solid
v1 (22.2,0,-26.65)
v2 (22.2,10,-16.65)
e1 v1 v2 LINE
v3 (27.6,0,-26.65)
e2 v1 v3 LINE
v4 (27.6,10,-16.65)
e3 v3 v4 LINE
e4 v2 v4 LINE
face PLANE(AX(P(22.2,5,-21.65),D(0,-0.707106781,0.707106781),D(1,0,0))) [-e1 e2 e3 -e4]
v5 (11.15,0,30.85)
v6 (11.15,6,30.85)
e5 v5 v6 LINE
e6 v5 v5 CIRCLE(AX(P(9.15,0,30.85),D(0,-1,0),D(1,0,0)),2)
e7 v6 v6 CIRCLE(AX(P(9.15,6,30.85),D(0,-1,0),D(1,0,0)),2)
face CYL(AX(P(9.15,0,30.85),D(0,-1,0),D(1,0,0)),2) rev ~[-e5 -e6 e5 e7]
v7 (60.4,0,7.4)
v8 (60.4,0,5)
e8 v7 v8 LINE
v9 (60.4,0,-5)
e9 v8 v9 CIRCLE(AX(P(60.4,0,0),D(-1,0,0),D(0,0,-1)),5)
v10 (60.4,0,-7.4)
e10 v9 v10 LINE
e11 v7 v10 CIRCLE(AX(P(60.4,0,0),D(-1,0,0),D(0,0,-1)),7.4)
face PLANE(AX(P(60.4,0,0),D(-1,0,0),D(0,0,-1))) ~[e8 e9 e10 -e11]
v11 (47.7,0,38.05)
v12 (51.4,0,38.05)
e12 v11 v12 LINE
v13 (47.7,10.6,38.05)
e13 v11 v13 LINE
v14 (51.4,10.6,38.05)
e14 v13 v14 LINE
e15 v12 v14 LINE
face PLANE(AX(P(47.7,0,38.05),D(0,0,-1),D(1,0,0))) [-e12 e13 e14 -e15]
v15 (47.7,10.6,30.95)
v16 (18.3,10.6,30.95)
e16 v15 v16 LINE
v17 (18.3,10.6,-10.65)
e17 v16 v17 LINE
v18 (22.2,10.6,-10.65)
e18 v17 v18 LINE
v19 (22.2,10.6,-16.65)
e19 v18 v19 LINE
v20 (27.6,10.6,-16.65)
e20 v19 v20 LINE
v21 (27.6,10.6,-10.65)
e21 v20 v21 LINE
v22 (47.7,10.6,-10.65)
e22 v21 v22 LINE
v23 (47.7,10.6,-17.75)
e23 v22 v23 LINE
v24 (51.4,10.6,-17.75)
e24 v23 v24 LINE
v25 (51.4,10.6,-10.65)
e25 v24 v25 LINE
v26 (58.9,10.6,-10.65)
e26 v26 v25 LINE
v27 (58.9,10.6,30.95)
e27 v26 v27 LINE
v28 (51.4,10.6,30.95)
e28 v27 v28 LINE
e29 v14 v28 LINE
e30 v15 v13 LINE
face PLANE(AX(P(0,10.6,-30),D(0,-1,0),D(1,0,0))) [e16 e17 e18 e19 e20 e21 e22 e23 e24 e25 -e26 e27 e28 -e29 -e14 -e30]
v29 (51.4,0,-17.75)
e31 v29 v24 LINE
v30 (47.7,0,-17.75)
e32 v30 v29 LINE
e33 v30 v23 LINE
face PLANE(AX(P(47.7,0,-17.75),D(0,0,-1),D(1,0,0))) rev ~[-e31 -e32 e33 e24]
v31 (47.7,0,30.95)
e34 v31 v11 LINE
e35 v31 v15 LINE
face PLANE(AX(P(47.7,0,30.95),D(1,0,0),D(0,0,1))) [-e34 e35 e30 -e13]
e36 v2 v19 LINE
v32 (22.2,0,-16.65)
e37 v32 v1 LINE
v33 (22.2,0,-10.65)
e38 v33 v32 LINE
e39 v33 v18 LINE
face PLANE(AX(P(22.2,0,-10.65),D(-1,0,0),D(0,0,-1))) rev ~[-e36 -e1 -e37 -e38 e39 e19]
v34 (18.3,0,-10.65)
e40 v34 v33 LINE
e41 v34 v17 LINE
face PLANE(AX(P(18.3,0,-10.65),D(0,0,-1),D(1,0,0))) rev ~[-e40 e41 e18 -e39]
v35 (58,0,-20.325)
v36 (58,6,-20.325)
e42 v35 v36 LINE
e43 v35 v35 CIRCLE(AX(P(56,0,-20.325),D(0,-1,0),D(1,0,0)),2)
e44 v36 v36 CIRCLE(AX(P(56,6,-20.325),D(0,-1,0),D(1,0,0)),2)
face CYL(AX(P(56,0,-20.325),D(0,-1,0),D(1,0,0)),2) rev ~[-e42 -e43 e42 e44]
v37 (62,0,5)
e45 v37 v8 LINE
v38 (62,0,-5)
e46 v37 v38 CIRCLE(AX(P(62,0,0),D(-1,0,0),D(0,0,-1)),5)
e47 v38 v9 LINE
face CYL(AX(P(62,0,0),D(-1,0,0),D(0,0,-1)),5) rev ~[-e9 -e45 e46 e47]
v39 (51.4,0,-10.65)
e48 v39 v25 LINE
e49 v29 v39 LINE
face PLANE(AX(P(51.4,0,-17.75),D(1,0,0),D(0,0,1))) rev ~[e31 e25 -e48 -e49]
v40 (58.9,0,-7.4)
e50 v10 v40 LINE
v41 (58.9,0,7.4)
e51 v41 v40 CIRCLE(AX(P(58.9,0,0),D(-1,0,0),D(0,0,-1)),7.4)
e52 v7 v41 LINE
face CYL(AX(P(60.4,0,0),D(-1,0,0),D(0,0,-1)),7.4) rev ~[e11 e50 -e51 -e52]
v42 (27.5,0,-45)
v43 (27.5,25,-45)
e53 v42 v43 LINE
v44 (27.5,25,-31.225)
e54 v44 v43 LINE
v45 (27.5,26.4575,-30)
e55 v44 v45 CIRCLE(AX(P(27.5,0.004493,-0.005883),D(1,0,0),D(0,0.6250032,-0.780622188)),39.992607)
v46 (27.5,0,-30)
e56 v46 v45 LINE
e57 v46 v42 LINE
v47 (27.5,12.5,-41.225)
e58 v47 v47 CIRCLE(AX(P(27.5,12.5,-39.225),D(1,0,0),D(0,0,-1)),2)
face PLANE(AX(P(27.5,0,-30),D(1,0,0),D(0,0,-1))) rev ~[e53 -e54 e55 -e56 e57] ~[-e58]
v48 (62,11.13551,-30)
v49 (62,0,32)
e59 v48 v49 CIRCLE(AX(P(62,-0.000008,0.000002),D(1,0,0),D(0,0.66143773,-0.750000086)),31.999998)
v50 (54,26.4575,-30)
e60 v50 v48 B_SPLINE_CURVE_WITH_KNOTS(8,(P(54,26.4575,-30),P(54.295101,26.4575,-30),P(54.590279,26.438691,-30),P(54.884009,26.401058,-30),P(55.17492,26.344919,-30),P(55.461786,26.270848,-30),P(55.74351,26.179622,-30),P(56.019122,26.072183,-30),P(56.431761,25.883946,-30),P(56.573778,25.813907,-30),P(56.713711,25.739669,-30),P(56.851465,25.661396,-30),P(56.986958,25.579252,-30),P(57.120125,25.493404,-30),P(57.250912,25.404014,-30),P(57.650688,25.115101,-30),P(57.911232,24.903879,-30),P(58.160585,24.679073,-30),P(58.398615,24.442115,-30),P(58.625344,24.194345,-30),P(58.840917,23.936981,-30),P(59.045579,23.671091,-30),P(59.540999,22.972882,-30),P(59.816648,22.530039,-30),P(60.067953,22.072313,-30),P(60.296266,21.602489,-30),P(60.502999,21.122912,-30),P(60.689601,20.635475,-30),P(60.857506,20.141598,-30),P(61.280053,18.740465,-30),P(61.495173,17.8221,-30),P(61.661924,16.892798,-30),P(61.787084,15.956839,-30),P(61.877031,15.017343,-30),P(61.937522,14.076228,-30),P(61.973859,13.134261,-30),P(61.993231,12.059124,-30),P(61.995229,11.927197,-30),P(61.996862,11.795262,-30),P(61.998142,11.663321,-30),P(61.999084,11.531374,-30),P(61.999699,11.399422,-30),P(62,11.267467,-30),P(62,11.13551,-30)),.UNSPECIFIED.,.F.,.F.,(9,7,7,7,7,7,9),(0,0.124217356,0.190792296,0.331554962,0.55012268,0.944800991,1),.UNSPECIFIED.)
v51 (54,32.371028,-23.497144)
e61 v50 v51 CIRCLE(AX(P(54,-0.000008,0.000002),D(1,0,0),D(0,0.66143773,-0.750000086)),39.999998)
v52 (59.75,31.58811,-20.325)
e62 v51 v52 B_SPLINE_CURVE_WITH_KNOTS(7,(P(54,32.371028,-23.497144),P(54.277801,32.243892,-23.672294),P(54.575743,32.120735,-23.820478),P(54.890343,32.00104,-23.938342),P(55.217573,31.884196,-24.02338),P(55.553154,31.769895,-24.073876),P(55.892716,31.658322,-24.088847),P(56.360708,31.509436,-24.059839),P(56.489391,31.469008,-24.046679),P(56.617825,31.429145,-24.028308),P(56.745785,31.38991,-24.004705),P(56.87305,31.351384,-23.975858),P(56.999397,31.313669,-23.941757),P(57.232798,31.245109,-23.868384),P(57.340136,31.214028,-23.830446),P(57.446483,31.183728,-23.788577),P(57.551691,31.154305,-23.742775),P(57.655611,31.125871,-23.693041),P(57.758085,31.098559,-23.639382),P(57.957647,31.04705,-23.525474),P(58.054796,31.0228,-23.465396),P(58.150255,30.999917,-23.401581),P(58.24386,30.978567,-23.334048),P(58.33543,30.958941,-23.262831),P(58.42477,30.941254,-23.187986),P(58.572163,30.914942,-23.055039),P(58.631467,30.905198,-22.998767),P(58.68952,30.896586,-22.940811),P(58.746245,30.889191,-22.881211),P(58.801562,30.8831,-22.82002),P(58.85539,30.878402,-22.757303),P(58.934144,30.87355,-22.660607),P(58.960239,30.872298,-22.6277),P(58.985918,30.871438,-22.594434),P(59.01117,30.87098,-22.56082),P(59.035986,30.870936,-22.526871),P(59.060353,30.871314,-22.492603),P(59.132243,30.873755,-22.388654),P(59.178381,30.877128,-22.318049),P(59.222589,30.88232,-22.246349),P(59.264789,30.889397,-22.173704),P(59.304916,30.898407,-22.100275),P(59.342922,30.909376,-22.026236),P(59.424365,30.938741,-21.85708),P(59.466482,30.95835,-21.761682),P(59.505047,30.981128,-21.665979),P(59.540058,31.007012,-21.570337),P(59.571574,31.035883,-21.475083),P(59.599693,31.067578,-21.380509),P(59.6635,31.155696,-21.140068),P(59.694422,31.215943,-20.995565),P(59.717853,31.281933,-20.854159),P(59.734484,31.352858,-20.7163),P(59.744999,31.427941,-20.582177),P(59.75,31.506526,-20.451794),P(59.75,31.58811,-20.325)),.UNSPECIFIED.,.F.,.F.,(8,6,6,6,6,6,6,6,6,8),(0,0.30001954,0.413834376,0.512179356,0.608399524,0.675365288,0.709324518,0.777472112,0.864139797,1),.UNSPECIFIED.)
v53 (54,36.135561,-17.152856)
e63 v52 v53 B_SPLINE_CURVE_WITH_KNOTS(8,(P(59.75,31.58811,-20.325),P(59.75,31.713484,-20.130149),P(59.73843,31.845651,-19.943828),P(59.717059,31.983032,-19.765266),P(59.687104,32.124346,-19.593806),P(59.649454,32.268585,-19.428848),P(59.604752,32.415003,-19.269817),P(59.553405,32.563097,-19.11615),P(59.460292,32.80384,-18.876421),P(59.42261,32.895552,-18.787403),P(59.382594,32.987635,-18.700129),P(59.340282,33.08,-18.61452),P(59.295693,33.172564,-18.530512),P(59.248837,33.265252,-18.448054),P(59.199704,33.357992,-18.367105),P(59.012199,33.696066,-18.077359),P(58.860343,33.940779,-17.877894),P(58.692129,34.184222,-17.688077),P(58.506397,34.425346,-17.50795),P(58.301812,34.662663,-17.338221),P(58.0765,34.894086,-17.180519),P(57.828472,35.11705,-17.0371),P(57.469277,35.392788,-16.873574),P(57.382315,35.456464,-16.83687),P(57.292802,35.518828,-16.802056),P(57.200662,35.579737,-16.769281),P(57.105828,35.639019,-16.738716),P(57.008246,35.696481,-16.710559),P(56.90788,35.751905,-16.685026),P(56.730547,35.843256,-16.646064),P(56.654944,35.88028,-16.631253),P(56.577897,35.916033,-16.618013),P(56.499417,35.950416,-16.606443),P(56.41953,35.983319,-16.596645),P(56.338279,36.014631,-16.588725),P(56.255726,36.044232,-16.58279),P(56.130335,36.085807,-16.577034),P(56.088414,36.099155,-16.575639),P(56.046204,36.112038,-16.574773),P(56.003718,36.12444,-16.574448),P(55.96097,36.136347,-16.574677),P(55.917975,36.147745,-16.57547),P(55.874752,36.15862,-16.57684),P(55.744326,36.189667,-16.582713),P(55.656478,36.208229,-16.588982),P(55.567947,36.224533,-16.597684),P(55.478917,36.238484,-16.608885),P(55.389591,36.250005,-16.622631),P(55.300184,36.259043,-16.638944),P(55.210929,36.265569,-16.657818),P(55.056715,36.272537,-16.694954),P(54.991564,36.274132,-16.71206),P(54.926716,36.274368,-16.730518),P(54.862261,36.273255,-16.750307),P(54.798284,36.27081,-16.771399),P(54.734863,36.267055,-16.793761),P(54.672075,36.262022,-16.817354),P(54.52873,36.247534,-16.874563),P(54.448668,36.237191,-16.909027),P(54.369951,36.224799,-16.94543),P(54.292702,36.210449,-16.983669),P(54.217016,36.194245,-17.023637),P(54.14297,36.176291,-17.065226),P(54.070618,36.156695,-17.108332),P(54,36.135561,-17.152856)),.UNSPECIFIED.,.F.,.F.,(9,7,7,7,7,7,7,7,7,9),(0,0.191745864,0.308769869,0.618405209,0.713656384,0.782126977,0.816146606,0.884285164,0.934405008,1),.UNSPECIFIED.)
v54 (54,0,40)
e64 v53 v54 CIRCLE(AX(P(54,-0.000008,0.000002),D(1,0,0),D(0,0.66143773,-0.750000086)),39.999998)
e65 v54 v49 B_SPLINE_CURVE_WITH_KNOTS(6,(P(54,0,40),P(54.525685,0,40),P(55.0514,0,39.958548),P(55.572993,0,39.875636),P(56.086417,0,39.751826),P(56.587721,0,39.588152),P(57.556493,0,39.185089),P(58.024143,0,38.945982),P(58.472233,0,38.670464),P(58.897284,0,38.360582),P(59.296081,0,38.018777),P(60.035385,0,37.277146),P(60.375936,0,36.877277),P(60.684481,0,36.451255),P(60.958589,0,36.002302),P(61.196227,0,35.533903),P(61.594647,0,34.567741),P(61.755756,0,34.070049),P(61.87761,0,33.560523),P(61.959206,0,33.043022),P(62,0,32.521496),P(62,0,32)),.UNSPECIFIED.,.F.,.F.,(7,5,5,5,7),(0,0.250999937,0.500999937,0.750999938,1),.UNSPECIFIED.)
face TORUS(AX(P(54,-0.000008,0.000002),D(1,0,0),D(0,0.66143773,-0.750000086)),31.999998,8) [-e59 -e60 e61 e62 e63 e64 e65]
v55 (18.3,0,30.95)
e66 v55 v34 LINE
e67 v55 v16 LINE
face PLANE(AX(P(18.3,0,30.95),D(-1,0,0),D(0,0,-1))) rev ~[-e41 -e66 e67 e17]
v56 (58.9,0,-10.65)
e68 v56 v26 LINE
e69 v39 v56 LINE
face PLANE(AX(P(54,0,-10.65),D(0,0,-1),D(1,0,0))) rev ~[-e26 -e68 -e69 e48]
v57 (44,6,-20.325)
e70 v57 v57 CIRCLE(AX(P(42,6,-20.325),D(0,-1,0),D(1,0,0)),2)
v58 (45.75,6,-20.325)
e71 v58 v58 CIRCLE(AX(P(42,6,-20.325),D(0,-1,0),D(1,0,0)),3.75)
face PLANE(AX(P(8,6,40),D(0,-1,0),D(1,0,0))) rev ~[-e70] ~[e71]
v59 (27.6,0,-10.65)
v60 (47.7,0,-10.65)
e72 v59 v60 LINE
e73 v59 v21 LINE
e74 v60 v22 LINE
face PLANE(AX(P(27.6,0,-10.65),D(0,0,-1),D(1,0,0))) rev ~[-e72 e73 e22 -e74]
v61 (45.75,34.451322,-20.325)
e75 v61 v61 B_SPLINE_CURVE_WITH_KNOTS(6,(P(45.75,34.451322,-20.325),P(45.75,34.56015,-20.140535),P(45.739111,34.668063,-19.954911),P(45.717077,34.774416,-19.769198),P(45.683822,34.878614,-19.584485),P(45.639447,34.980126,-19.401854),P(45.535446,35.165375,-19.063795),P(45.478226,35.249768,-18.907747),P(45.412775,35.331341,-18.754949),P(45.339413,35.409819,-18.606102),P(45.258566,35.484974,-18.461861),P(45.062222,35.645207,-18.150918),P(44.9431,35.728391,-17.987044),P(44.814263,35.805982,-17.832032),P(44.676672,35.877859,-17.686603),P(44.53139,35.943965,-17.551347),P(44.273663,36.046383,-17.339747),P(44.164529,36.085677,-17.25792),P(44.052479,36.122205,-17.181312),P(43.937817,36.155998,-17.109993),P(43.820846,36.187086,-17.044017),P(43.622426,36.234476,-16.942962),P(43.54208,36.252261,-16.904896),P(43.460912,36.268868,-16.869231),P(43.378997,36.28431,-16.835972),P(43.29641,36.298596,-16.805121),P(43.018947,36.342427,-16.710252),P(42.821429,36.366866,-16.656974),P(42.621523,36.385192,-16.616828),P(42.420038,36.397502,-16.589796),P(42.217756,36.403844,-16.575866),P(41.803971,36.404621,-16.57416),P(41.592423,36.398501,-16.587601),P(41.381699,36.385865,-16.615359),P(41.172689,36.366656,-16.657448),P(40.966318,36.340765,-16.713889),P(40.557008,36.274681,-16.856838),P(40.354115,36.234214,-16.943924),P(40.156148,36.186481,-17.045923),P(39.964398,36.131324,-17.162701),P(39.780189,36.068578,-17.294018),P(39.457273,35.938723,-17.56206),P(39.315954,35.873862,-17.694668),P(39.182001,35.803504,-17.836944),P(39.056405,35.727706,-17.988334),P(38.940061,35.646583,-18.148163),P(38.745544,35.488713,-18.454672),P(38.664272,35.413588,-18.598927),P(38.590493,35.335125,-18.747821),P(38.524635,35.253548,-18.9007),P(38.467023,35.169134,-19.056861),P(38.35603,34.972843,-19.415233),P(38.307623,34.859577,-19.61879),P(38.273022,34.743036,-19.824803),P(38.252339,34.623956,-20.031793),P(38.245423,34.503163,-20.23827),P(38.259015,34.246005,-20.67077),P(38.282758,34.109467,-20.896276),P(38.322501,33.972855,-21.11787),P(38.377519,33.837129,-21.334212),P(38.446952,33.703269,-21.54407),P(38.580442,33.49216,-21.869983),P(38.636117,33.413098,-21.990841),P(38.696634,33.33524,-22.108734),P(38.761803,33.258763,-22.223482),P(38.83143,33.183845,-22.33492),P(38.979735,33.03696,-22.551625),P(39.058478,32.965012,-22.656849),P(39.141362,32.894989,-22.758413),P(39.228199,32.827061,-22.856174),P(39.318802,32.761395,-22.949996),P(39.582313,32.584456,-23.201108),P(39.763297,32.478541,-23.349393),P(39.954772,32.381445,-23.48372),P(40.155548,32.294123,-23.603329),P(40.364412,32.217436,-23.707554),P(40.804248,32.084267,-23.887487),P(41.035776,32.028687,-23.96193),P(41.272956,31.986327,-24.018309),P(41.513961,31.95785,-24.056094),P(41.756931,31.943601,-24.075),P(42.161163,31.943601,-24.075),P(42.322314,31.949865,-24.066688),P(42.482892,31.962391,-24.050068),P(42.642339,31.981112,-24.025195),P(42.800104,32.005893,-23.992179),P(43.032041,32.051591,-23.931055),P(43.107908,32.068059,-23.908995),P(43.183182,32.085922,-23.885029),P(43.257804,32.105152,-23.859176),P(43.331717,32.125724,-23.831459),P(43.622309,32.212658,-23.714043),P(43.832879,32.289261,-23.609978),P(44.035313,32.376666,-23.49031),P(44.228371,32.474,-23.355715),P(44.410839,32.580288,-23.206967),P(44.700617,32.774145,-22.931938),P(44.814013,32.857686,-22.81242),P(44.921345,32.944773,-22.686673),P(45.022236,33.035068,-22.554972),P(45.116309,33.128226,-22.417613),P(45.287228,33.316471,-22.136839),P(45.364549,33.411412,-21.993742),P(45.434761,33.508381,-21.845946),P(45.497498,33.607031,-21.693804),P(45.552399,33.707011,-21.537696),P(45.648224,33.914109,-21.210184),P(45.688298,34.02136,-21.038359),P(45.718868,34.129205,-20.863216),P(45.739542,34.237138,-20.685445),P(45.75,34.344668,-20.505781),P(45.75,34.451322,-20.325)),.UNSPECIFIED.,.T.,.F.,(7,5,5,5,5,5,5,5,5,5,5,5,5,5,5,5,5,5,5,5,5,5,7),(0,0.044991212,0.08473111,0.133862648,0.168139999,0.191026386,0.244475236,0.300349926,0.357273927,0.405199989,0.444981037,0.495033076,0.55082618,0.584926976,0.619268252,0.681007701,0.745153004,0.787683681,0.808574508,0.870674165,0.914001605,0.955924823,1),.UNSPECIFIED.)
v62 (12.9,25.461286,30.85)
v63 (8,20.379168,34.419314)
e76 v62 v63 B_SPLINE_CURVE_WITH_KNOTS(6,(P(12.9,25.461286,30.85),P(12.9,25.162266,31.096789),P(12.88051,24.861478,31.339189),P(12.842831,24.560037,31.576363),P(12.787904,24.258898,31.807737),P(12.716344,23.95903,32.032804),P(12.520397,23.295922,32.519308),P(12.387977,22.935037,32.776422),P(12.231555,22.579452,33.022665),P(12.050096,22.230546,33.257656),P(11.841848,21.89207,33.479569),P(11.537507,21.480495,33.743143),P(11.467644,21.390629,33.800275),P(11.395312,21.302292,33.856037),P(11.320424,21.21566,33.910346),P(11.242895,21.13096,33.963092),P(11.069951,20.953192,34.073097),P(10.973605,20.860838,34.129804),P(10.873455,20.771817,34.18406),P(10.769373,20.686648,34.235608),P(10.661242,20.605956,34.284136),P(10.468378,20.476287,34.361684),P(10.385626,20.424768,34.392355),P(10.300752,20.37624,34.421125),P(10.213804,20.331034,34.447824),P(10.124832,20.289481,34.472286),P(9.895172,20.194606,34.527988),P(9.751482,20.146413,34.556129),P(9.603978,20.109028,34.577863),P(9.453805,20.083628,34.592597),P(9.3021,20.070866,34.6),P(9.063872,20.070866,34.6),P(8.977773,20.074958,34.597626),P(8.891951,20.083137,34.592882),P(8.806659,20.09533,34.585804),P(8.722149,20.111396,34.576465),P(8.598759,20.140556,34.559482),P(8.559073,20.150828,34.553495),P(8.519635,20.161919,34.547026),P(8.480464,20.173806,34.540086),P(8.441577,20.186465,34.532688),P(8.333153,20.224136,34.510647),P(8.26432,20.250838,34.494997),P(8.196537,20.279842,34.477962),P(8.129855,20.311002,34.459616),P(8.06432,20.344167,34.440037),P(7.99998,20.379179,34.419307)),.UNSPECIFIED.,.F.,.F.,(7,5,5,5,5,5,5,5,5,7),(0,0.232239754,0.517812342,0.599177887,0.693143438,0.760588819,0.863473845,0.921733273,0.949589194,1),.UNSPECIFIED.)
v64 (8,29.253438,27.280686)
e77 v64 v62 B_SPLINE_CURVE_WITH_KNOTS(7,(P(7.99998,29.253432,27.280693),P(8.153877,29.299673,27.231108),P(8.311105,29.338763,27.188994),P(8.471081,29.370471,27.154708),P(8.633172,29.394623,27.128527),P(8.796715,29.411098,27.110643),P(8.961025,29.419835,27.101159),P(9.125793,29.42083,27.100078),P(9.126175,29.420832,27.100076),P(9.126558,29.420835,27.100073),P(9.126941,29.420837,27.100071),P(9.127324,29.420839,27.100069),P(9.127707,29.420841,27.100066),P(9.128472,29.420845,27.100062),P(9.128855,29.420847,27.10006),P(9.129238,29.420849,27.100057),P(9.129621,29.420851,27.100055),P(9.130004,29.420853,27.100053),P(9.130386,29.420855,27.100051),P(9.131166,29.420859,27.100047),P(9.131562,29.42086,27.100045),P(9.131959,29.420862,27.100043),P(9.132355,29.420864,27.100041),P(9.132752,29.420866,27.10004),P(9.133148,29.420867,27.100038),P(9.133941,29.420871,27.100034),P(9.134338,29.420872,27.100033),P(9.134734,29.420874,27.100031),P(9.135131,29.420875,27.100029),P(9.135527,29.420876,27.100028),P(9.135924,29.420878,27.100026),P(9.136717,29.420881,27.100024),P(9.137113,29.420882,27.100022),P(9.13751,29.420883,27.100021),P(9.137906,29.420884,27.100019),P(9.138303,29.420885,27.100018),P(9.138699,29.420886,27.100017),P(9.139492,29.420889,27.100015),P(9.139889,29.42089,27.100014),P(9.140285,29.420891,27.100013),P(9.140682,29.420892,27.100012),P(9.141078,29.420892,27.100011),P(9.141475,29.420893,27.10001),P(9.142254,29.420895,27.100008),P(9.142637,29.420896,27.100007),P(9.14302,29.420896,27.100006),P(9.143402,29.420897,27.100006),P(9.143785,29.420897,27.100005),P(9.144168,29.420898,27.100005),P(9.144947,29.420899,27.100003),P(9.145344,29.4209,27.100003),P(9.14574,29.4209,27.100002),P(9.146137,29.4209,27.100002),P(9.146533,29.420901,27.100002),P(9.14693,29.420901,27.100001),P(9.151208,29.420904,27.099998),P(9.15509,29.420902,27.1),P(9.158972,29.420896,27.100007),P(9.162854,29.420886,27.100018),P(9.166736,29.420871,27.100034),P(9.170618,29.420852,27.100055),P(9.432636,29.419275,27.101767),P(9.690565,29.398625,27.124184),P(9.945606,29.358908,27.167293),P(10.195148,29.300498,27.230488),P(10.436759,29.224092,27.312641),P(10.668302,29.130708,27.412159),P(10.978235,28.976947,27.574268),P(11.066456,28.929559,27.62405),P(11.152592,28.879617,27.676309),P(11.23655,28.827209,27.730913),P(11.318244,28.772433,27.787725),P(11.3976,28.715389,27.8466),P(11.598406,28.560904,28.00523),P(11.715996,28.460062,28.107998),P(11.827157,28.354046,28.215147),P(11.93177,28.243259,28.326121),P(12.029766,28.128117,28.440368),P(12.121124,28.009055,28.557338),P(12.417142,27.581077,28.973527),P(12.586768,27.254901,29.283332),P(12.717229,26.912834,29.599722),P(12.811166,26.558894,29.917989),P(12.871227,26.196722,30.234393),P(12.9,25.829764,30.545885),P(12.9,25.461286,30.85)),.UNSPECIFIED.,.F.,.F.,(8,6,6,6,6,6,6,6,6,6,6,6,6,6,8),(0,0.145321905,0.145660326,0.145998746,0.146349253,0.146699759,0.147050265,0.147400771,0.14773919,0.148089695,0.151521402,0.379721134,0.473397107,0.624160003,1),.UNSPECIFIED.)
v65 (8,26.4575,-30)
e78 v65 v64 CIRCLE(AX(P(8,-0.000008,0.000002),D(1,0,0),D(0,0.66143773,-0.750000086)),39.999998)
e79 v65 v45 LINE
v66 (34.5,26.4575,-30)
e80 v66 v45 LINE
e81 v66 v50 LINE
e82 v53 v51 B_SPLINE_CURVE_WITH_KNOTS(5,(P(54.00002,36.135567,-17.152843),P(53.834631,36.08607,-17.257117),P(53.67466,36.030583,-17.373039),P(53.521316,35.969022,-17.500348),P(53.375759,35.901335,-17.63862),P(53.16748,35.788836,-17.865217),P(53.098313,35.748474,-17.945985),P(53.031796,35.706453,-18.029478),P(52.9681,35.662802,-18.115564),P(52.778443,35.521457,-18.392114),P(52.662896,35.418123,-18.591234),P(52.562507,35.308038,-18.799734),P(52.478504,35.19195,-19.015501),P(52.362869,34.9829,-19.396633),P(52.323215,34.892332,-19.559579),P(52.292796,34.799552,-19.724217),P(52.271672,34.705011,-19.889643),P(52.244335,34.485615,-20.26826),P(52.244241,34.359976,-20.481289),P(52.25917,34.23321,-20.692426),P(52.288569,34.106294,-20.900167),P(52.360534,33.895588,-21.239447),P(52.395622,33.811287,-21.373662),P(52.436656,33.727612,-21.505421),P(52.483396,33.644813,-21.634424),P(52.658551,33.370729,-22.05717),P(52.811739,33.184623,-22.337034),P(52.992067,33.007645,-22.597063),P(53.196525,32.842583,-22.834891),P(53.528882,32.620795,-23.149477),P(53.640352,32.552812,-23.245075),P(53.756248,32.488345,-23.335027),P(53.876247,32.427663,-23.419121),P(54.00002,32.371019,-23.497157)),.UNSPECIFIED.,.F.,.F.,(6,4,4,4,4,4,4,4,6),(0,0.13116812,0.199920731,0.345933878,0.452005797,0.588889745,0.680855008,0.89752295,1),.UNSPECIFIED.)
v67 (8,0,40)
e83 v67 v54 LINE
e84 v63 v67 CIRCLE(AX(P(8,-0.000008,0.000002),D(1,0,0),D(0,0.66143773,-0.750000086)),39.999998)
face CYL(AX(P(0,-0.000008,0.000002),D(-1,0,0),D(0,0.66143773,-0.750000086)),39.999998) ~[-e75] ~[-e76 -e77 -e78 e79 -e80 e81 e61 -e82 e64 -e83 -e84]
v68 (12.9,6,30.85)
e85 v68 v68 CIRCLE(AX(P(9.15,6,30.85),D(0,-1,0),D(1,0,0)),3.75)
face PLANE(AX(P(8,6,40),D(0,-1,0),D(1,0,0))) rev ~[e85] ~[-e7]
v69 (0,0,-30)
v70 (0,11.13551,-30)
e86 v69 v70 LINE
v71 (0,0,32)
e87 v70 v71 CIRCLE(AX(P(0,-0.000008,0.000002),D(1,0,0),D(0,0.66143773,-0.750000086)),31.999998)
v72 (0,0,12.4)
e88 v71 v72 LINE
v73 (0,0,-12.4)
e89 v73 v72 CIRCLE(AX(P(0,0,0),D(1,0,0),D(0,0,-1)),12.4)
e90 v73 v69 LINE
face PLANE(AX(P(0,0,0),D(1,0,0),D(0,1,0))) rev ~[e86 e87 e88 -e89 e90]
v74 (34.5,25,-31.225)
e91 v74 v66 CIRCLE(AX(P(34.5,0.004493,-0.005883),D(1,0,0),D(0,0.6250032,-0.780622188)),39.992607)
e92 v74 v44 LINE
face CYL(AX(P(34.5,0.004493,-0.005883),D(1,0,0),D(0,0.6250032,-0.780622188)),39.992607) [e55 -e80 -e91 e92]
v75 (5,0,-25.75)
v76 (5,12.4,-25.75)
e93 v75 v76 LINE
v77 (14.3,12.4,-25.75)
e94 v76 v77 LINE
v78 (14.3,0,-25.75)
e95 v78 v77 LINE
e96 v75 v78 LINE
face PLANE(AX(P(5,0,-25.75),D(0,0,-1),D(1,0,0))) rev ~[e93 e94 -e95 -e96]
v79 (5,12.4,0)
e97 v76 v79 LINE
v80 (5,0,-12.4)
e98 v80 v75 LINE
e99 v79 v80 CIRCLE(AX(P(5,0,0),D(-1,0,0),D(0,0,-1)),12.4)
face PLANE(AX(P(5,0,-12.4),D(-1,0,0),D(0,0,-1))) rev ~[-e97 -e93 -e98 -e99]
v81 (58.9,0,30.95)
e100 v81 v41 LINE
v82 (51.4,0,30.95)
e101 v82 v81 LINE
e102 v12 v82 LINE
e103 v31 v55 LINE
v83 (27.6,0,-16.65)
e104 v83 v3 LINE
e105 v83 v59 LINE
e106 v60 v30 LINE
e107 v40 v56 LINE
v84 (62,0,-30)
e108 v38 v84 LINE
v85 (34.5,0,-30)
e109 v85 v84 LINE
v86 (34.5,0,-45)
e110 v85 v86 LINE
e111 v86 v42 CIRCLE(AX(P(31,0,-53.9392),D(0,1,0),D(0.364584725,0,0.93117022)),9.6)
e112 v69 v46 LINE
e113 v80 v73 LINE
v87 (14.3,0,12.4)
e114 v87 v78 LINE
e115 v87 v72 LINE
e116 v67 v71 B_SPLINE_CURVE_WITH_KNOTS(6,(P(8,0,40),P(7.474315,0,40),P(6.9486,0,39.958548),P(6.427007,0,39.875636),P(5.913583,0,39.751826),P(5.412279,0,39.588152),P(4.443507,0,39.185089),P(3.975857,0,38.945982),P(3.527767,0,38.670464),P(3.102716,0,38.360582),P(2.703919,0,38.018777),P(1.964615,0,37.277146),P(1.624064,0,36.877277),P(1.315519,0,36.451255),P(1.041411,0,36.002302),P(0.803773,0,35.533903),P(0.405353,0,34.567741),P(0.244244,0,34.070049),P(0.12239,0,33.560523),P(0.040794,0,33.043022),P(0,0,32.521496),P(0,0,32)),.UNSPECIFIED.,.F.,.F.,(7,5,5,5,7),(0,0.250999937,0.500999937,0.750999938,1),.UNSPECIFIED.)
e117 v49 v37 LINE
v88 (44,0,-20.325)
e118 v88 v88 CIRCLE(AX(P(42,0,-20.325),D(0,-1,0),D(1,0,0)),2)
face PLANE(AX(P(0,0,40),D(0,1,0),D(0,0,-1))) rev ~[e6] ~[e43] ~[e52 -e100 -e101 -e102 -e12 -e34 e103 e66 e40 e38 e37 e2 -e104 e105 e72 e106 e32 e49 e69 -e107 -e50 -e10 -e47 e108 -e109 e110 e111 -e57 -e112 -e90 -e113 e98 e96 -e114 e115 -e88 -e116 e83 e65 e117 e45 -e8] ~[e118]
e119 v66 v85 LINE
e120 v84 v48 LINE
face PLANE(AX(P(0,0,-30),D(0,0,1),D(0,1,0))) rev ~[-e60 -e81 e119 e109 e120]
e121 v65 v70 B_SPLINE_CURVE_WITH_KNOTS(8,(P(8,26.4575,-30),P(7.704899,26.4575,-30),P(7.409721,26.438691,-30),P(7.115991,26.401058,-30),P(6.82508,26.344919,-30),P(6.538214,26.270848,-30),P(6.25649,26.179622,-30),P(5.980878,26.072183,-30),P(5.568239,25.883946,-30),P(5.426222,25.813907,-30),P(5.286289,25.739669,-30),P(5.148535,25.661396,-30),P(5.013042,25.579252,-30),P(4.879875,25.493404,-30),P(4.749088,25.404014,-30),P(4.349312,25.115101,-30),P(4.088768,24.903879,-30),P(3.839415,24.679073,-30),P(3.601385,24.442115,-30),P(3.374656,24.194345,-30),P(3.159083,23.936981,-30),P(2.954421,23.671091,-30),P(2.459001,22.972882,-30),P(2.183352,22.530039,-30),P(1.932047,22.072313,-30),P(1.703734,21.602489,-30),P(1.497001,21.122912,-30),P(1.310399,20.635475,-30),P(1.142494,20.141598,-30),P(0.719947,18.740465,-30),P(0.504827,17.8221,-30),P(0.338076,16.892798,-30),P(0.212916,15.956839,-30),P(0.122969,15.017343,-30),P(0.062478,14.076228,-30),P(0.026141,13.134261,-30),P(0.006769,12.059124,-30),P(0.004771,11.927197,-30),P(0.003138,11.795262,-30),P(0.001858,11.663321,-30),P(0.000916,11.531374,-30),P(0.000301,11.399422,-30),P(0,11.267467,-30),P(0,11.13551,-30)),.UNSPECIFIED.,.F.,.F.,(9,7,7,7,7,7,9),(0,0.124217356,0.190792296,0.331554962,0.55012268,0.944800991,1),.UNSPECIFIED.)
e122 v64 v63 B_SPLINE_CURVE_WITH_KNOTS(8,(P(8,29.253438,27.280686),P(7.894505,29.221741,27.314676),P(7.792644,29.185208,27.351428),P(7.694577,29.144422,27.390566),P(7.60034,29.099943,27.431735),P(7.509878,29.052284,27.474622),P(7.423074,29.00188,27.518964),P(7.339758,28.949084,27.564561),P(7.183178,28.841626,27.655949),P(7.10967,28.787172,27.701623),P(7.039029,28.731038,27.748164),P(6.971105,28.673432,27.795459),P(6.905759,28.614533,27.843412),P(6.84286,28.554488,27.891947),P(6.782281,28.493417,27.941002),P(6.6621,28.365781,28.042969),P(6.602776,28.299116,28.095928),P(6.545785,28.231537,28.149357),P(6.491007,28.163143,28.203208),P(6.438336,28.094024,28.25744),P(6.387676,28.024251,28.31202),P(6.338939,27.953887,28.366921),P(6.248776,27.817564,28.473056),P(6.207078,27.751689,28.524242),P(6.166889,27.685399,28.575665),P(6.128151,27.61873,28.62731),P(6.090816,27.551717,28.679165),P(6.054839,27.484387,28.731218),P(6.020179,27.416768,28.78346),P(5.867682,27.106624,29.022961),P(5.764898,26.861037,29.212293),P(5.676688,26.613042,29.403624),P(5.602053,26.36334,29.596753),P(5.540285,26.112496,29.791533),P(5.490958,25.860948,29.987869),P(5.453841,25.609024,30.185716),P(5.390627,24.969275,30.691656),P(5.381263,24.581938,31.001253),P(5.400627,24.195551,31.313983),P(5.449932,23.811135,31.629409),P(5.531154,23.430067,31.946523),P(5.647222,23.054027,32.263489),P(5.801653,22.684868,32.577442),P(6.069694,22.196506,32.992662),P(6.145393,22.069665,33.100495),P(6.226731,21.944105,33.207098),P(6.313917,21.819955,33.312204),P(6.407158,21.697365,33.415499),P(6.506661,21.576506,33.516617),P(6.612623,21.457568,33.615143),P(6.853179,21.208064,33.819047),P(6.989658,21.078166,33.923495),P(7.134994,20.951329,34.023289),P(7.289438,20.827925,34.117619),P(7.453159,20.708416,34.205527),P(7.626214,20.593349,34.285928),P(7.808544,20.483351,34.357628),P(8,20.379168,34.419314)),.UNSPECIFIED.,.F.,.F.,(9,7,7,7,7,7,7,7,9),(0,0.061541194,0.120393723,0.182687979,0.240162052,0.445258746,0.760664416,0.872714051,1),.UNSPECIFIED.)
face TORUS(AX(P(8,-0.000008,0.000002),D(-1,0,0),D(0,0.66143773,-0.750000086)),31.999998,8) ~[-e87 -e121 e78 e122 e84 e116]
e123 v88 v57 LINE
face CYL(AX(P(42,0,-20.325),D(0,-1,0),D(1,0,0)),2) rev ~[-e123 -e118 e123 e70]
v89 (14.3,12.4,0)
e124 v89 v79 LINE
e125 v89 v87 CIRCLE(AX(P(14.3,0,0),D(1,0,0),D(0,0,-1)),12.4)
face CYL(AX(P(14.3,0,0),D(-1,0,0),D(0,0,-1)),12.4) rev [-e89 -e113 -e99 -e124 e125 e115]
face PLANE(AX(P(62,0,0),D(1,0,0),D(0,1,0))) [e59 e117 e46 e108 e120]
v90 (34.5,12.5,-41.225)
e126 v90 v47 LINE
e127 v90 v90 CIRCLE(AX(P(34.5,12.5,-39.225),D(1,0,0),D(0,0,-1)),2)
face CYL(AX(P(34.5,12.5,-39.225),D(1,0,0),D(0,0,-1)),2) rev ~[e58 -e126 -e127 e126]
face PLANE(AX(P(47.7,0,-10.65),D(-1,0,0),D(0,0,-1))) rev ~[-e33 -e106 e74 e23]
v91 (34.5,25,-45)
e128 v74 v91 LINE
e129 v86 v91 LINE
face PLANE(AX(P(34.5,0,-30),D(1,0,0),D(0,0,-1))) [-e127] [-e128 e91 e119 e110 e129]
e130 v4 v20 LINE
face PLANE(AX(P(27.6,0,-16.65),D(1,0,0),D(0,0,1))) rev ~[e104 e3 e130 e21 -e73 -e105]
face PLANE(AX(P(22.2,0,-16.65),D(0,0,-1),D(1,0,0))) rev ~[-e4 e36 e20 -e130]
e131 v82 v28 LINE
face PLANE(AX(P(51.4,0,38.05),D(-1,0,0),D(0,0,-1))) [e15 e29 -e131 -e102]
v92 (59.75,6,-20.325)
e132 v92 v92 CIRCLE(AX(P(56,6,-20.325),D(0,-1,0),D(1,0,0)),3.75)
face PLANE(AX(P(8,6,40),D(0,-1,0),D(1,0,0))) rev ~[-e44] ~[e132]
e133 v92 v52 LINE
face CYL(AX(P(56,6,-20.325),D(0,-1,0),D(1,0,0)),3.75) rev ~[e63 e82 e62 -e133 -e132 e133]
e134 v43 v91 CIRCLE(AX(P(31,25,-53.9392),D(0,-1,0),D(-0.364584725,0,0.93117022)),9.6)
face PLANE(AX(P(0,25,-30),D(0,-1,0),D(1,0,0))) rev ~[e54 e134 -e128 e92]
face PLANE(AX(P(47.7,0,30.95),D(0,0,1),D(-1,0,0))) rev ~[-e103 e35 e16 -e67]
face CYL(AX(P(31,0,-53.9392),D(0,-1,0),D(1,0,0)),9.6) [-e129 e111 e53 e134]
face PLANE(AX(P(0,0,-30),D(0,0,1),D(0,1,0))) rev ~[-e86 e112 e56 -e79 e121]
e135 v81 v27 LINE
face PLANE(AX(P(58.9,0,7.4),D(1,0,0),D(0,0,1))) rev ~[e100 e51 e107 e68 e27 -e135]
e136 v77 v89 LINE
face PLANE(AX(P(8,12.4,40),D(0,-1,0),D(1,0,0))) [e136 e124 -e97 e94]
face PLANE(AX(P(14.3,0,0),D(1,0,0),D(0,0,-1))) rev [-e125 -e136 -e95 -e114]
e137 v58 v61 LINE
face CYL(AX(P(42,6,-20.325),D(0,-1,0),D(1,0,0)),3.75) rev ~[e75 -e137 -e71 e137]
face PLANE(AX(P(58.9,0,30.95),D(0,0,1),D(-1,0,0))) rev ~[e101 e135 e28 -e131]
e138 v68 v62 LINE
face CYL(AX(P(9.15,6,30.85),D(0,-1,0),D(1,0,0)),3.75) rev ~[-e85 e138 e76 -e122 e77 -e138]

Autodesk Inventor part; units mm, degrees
ref_plane "YZ Plane" through (0, 0, 0) normal (1, 0, 0) x (0, 1, 0)
ref_plane "XZ Plane" through (0, 0, 0) normal (0, 1, 0) x (-1, 0, 0)
sketch "Sketch1" plane through (0, 0, 0) normal (1, 0, 0) x (0, 1, 0)
  arc A0 (26.4575, -30) -> (0, 40) centre (0, 0) ccw
  line L0 (0, 40) -> (0, -30)
  line L1 (0, -30) -> (26.4575, -30)
  arc A1 (0, 40) -> (26.4575, -30) centre (0, 0) ccw construction
  dimension "d0" = 80
  dimension "d1" = 70
extrude "Extrusion1" add sketch "Sketch1" along normal blind 62
fillet "Fillet1" radius 8 2 edges at (0, 37.4166, 14.1421) (62, 37.4166, 14.1421)
sketch "Sketch2" plane through (0, 0, -30) normal (0, -1, 0) x (1, 0, 0)
  circle A0 centre (31, -23.9392) radius 9.6
  line L0 (0, 0) -> (62, 0) projected
  line L1 (31, -23.9392) -> (31, 0) construction
  line L2 (34.5, 0) -> (27.5, 0)
  line L3 (27.5, 0) -> (27.5, -15)
  line L4 (34.5, 0) -> (34.5, -15)
  point P0 (0, 30)
  dimension "d6" = 19.2
  dimension "d7" = 3.5
  dimension "d8" = 3.5
  dimension "d61" = 15
extrude "Extrusion2" add sketch "Sketch2" against normal blind 25
sketch "Sketch3" plane through (34.5, 0, -30) normal (1, 0, 0) x (0, 0, -1)
  line L0 (0, 25) -> (15, 25) projected
  line L1 (0, 11.1355) -> (0, 26.4575) projected
  arc A0 (1.225, 25) -> (0, 26.4575) centre (-30.0052, -0.0046) ccw
  arc A1 (0, 26.4575) -> (-70, 0) centre (-30, 0) ccw projected
  line L2 (0, 26.4575) -> (1.225, 25) construction
  point P0 (-30, 0)
  dimension "d13" = 1.225
extrude "Extrusion3" add sketch "Sketch3" against normal up to surface (7 mm away)
sketch "Sketch4" plane through (0, 0, -30) normal (0, -1, 0) x (1, 0, 0)
  line L0 (58.9, 60.95) -> (51.4, 60.95)
  line L1 (18.3, 60.95) -> (18.3, 19.35)
  line L2 (58.9, 19.35) -> (58.9, 60.95)
  line L3 (58.9, 37.4) -> (60.4, 37.4)
  line L4 (60.4, 37.4) -> (60.4, 30)
  line L5 (60.4, 22.6) -> (58.9, 22.6)
  line L6 (58.9, 22.6) -> (58.9, 37.4)
  line L7 (60.4, 35) -> (62, 35)
  line L8 (62, 35) -> (62, 30)
  line L9 (62, 25) -> (60.4, 25)
  line L10 (60.4, 25) -> (60.4, 35)
  line L11 (47.7, 19.35) -> (47.7, 12.25)
  line L12 (47.7, 12.25) -> (51.4, 12.25)
  line L13 (51.4, 12.25) -> (51.4, 19.35)
  line L14 (22.2, 19.35) -> (22.2, 13.35)
  line L15 (22.2, 13.35) -> (27.6, 13.35)
  line L16 (27.6, 13.35) -> (27.6, 19.35)
  line L17 (47.7, 60.95) -> (47.7, 68.05)
  line L18 (47.7, 68.05) -> (51.4, 68.05)
  line L19 (51.4, 68.05) -> (51.4, 60.95)
  line L20 (47.7, 60.95) -> (18.3, 60.95)
  line L21 (51.4, 19.35) -> (58.9, 19.35)
  line L22 (18.3, 19.35) -> (22.2, 19.35)
  line L23 (27.6, 19.35) -> (47.7, 19.35)
  line L24 (62, 62) -> (62, 0) projected
  line L25 (54, 0) -> (54, 70) projected
  line L26 (0, 30) -> (48.0104, 30) construction
  line L27 (62, 30) -> (58.9, 30)
  line L28 (62, 30) -> (62, 25)
  line L29 (60.4, 30) -> (60.4, 22.6)
  dimension "d16" = 40.6
  dimension "d17" = 41.6
  dimension "d18" = 10
  dimension "d19" = 14.8
  dimension "d20" = 1.6
  dimension "d21" = 1.5
  dimension "d22" = 10.65
  dimension "d23" = 3.7
  dimension "d24" = 7.5
  dimension "d25" = 7.1
  dimension "d26" = 7.1
  dimension "d27" = 3.9
  dimension "d28" = 5.4
  dimension "d29" = 6
  dimension "d30" = 5
extrude "Extrusion4" cut sketch "Sketch4" against normal blind 10.6 contours L2 L21 L25 L0 | L25 L21 L13 L12 L11 L23 L16 L15 L14 L22 L1 L20 L17 L18 L19 L0
revolve "Revolution1" cut sketch "Sketch4" angle 360 about axis through (62, 0, 0) along (-1, 0, 0) contours L27 L10 L29 L5 L2 | L27 L24 L9 L10
sketch "Sketch5" plane through (0, 0, -30) normal (0, -1, 0) x (1, 0, 0)
  line L0 (0, 30) -> (14.3, 30)
  line L1 (14.3, 30) -> (14.3, 17.6)
  line L2 (14.3, 17.6) -> (0, 17.6)
  line L3 (0, 17.6) -> (0, 30)
  dimension "d34" = 24.8
  dimension "d35" = 14.3
revolve "Revolution2" cut sketch "Sketch5" angle 360 about axis through (0, 0, 0) along (1, 0, 0)
sketch "Sketch6" plane through (8, 0, 40) normal (0, -1, 0) x (1, 0, 0)
  line L0 (6.3, -52.4) -> (-8, -52.4) projected
  line L1 (6.3, -27.6) -> (6.3, -52.4) projected
  line L2 (-8, -27.6) -> (6.3, -27.6) projected
  line L3 (-8, -52.4) -> (-8, -27.6) projected
  line L4 (6.3, -52.4) -> (-3, -52.4)
  line L5 (-3, -52.4) -> (-3, -65.75)
  line L6 (-3, -65.75) -> (6.3, -65.75)
  line L7 (6.3, -65.75) -> (6.3, -52.4)
  line L8 (-8, -70) -> (19.5, -70) projected
  line L9 (-3, -52.4) -> (6.3, -52.4)
  line L10 (6.3, -52.4) -> (6.3, -40)
  line L11 (6.3, -40) -> (-3, -40)
  line L12 (-3, -40) -> (-3, -52.4)
  point P0 (-8, -40)
  dimension "d38" = 5
  dimension "d39" = 4.25
extrude "Extrusion5" cut sketch "Sketch6" against normal blind 12.4 contours L7 L6 L5 L0 | L0 L12 L11 L1
sketch "Sketch7" plane through (8, 0, 40) normal (0, -1, 0) x (1, 0, 0)
  line L0 (-3, -65.75) -> (-3, -52.4) projected
  line L1 (-3, -52.4) -> (-8, -52.4) projected
  line L2 (-8, -52.4) -> (-8, -70) projected
  line L3 (-8, -70) -> (19.5, -70) projected
  line L4 (19.5, -70) -> (19.5, -85) projected
  arc A0 (19.5, -85) -> (26.5, -85) centre (23, -93.9392) ccw projected
  line L5 (26.5, -85) -> (26.5, -70) projected
  line L6 (26.5, -70) -> (54, -70) projected
  line L7 (54, -45) -> (54, -70) projected
  line L8 (54, -45) -> (52.4, -45) projected
  line L9 (52.4, -45) -> (52.4, -47.4) projected
  line L10 (52.4, -47.4) -> (50.9, -47.4) projected
  line L11 (50.9, -47.4) -> (50.9, -50.65) projected
  line L12 (50.9, -50.65) -> (43.4, -50.65) projected
  line L13 (43.4, -50.65) -> (43.4, -57.75) projected
  line L14 (43.4, -57.75) -> (39.7, -57.75) projected
  line L15 (39.7, -57.75) -> (39.7, -50.65) projected
  line L16 (39.7, -50.65) -> (19.6, -50.65) projected
  line L17 (19.6, -50.65) -> (19.6, -56.65) projected
  line L18 (19.6, -56.65) -> (14.2, -56.65) projected
  line L19 (14.2, -56.65) -> (14.2, -50.65) projected
  line L20 (14.2, -50.65) -> (10.3, -50.65) projected
  line L21 (10.3, -50.65) -> (10.3, -9.05) projected
  line L22 (10.3, -9.05) -> (39.7, -9.05) projected
  line L23 (39.7, -9.05) -> (39.7, -1.95) projected
  line L24 (39.7, -1.95) -> (43.4, -1.95) projected
  line L25 (43.4, -1.95) -> (43.4, -9.05) projected
  line L26 (43.4, -9.05) -> (50.9, -9.05) projected
  line L27 (50.9, -9.05) -> (50.9, -32.6) projected
  line L28 (50.9, -32.6) -> (52.4, -32.6) projected
  line L29 (52.4, -32.6) -> (52.4, -35) projected
  line L30 (52.4, -35) -> (54, -35) projected
  line L31 (54, -8) -> (54, -35) projected
  arc A1 (54, -8) -> (46, 0) centre (46, -8) ccw projected
  line L32 (0, 0) -> (46, 0) projected
  arc A2 (0, 0) -> (-8, -8) centre (0, -8) ccw projected
  line L33 (-8, -8) -> (-8, -27.6) projected
  line L34 (-8, -27.6) -> (6.3, -27.6) projected
  line L35 (6.3, -27.6) -> (6.3, -65.75) projected
  line L36 (6.3, -65.75) -> (-3, -65.75) projected
  circle A3 centre (1.15, -9.15) radius 2
  circle A4 centre (34, -60.325) radius 2
  circle A5 centre (48, -60.325) radius 2
  point P0 (-8, -40)
  dimension "d42" = 4
  dimension "d43" = 4
  dimension "d44" = 18.3
  dimension "d45" = 9.15
  dimension "d46" = 9.15
  dimension "d47" = 19.35
  dimension "d48" = 9.675
  dimension "d49" = 20
  dimension "d52" = 4
  dimension "d53" = 6
  dimension "d54" = 9.675
extrude "Extrusion6" cut sketch "Sketch7" against normal through all contours A3 | A4 | A5
ref_plane "Work Plane1" through (8, 6, 40) normal (0, -1, 0) x (1, 0, 0)
sketch "Sketch8" plane through (8, 6, 40) normal (0, -1, 0) x (1, 0, 0)
  circle A0 centre (48, -60.325) radius 2 projected
  circle A1 centre (34, -60.325) radius 2 projected
  circle A2 centre (1.15, -9.15) radius 2 projected
  circle A3 centre (1.15, -9.15) radius 3.75
  circle A4 centre (34, -60.325) radius 3.75
  circle A5 centre (48, -60.325) radius 3.75
  point P0 (-8, -40)
  dimension "d56" = 7.5
  dimension "d57" = 7.5
  dimension "d58" = 7.5
extrude "Extrusion7" cut sketch "Sketch8" against normal through all contours A0 | A1 | A2 | A3 | A4 | A5
sketch "Sketch9" plane through (34.5, 0, -30) normal (1, 0, 0) x (0, 0, -1)
  circle A0 centre (9.225, 12.5) radius 2
  line L0 (1.225, 25) -> (15, 25) projected
  line L1 (15, 0) -> (15, 25) projected
  line L2 (0, 0) -> (0, 11.1355) projected
  point P0 (-30, 0)
  point P1 (8.1125, 25)
  dimension "d62" = 4
  dimension "d63" = 12.5
  dimension "d67" = 9.225
extrude "Extrusion8" cut sketch "Sketch9" against normal through all
chamfer "Chamfer1" distance 10 angle 45 1 edges at (24.9, 0, -16.65)
equation "\"d26\" = d25"
equation "\"d45\" = 0.5 * d44"
equation "\"d46\" = d45"
equation "\"d48\" = 0.5 * d47"
equation "\"d54\" = d48"
properties part number "Arm_1Up"
